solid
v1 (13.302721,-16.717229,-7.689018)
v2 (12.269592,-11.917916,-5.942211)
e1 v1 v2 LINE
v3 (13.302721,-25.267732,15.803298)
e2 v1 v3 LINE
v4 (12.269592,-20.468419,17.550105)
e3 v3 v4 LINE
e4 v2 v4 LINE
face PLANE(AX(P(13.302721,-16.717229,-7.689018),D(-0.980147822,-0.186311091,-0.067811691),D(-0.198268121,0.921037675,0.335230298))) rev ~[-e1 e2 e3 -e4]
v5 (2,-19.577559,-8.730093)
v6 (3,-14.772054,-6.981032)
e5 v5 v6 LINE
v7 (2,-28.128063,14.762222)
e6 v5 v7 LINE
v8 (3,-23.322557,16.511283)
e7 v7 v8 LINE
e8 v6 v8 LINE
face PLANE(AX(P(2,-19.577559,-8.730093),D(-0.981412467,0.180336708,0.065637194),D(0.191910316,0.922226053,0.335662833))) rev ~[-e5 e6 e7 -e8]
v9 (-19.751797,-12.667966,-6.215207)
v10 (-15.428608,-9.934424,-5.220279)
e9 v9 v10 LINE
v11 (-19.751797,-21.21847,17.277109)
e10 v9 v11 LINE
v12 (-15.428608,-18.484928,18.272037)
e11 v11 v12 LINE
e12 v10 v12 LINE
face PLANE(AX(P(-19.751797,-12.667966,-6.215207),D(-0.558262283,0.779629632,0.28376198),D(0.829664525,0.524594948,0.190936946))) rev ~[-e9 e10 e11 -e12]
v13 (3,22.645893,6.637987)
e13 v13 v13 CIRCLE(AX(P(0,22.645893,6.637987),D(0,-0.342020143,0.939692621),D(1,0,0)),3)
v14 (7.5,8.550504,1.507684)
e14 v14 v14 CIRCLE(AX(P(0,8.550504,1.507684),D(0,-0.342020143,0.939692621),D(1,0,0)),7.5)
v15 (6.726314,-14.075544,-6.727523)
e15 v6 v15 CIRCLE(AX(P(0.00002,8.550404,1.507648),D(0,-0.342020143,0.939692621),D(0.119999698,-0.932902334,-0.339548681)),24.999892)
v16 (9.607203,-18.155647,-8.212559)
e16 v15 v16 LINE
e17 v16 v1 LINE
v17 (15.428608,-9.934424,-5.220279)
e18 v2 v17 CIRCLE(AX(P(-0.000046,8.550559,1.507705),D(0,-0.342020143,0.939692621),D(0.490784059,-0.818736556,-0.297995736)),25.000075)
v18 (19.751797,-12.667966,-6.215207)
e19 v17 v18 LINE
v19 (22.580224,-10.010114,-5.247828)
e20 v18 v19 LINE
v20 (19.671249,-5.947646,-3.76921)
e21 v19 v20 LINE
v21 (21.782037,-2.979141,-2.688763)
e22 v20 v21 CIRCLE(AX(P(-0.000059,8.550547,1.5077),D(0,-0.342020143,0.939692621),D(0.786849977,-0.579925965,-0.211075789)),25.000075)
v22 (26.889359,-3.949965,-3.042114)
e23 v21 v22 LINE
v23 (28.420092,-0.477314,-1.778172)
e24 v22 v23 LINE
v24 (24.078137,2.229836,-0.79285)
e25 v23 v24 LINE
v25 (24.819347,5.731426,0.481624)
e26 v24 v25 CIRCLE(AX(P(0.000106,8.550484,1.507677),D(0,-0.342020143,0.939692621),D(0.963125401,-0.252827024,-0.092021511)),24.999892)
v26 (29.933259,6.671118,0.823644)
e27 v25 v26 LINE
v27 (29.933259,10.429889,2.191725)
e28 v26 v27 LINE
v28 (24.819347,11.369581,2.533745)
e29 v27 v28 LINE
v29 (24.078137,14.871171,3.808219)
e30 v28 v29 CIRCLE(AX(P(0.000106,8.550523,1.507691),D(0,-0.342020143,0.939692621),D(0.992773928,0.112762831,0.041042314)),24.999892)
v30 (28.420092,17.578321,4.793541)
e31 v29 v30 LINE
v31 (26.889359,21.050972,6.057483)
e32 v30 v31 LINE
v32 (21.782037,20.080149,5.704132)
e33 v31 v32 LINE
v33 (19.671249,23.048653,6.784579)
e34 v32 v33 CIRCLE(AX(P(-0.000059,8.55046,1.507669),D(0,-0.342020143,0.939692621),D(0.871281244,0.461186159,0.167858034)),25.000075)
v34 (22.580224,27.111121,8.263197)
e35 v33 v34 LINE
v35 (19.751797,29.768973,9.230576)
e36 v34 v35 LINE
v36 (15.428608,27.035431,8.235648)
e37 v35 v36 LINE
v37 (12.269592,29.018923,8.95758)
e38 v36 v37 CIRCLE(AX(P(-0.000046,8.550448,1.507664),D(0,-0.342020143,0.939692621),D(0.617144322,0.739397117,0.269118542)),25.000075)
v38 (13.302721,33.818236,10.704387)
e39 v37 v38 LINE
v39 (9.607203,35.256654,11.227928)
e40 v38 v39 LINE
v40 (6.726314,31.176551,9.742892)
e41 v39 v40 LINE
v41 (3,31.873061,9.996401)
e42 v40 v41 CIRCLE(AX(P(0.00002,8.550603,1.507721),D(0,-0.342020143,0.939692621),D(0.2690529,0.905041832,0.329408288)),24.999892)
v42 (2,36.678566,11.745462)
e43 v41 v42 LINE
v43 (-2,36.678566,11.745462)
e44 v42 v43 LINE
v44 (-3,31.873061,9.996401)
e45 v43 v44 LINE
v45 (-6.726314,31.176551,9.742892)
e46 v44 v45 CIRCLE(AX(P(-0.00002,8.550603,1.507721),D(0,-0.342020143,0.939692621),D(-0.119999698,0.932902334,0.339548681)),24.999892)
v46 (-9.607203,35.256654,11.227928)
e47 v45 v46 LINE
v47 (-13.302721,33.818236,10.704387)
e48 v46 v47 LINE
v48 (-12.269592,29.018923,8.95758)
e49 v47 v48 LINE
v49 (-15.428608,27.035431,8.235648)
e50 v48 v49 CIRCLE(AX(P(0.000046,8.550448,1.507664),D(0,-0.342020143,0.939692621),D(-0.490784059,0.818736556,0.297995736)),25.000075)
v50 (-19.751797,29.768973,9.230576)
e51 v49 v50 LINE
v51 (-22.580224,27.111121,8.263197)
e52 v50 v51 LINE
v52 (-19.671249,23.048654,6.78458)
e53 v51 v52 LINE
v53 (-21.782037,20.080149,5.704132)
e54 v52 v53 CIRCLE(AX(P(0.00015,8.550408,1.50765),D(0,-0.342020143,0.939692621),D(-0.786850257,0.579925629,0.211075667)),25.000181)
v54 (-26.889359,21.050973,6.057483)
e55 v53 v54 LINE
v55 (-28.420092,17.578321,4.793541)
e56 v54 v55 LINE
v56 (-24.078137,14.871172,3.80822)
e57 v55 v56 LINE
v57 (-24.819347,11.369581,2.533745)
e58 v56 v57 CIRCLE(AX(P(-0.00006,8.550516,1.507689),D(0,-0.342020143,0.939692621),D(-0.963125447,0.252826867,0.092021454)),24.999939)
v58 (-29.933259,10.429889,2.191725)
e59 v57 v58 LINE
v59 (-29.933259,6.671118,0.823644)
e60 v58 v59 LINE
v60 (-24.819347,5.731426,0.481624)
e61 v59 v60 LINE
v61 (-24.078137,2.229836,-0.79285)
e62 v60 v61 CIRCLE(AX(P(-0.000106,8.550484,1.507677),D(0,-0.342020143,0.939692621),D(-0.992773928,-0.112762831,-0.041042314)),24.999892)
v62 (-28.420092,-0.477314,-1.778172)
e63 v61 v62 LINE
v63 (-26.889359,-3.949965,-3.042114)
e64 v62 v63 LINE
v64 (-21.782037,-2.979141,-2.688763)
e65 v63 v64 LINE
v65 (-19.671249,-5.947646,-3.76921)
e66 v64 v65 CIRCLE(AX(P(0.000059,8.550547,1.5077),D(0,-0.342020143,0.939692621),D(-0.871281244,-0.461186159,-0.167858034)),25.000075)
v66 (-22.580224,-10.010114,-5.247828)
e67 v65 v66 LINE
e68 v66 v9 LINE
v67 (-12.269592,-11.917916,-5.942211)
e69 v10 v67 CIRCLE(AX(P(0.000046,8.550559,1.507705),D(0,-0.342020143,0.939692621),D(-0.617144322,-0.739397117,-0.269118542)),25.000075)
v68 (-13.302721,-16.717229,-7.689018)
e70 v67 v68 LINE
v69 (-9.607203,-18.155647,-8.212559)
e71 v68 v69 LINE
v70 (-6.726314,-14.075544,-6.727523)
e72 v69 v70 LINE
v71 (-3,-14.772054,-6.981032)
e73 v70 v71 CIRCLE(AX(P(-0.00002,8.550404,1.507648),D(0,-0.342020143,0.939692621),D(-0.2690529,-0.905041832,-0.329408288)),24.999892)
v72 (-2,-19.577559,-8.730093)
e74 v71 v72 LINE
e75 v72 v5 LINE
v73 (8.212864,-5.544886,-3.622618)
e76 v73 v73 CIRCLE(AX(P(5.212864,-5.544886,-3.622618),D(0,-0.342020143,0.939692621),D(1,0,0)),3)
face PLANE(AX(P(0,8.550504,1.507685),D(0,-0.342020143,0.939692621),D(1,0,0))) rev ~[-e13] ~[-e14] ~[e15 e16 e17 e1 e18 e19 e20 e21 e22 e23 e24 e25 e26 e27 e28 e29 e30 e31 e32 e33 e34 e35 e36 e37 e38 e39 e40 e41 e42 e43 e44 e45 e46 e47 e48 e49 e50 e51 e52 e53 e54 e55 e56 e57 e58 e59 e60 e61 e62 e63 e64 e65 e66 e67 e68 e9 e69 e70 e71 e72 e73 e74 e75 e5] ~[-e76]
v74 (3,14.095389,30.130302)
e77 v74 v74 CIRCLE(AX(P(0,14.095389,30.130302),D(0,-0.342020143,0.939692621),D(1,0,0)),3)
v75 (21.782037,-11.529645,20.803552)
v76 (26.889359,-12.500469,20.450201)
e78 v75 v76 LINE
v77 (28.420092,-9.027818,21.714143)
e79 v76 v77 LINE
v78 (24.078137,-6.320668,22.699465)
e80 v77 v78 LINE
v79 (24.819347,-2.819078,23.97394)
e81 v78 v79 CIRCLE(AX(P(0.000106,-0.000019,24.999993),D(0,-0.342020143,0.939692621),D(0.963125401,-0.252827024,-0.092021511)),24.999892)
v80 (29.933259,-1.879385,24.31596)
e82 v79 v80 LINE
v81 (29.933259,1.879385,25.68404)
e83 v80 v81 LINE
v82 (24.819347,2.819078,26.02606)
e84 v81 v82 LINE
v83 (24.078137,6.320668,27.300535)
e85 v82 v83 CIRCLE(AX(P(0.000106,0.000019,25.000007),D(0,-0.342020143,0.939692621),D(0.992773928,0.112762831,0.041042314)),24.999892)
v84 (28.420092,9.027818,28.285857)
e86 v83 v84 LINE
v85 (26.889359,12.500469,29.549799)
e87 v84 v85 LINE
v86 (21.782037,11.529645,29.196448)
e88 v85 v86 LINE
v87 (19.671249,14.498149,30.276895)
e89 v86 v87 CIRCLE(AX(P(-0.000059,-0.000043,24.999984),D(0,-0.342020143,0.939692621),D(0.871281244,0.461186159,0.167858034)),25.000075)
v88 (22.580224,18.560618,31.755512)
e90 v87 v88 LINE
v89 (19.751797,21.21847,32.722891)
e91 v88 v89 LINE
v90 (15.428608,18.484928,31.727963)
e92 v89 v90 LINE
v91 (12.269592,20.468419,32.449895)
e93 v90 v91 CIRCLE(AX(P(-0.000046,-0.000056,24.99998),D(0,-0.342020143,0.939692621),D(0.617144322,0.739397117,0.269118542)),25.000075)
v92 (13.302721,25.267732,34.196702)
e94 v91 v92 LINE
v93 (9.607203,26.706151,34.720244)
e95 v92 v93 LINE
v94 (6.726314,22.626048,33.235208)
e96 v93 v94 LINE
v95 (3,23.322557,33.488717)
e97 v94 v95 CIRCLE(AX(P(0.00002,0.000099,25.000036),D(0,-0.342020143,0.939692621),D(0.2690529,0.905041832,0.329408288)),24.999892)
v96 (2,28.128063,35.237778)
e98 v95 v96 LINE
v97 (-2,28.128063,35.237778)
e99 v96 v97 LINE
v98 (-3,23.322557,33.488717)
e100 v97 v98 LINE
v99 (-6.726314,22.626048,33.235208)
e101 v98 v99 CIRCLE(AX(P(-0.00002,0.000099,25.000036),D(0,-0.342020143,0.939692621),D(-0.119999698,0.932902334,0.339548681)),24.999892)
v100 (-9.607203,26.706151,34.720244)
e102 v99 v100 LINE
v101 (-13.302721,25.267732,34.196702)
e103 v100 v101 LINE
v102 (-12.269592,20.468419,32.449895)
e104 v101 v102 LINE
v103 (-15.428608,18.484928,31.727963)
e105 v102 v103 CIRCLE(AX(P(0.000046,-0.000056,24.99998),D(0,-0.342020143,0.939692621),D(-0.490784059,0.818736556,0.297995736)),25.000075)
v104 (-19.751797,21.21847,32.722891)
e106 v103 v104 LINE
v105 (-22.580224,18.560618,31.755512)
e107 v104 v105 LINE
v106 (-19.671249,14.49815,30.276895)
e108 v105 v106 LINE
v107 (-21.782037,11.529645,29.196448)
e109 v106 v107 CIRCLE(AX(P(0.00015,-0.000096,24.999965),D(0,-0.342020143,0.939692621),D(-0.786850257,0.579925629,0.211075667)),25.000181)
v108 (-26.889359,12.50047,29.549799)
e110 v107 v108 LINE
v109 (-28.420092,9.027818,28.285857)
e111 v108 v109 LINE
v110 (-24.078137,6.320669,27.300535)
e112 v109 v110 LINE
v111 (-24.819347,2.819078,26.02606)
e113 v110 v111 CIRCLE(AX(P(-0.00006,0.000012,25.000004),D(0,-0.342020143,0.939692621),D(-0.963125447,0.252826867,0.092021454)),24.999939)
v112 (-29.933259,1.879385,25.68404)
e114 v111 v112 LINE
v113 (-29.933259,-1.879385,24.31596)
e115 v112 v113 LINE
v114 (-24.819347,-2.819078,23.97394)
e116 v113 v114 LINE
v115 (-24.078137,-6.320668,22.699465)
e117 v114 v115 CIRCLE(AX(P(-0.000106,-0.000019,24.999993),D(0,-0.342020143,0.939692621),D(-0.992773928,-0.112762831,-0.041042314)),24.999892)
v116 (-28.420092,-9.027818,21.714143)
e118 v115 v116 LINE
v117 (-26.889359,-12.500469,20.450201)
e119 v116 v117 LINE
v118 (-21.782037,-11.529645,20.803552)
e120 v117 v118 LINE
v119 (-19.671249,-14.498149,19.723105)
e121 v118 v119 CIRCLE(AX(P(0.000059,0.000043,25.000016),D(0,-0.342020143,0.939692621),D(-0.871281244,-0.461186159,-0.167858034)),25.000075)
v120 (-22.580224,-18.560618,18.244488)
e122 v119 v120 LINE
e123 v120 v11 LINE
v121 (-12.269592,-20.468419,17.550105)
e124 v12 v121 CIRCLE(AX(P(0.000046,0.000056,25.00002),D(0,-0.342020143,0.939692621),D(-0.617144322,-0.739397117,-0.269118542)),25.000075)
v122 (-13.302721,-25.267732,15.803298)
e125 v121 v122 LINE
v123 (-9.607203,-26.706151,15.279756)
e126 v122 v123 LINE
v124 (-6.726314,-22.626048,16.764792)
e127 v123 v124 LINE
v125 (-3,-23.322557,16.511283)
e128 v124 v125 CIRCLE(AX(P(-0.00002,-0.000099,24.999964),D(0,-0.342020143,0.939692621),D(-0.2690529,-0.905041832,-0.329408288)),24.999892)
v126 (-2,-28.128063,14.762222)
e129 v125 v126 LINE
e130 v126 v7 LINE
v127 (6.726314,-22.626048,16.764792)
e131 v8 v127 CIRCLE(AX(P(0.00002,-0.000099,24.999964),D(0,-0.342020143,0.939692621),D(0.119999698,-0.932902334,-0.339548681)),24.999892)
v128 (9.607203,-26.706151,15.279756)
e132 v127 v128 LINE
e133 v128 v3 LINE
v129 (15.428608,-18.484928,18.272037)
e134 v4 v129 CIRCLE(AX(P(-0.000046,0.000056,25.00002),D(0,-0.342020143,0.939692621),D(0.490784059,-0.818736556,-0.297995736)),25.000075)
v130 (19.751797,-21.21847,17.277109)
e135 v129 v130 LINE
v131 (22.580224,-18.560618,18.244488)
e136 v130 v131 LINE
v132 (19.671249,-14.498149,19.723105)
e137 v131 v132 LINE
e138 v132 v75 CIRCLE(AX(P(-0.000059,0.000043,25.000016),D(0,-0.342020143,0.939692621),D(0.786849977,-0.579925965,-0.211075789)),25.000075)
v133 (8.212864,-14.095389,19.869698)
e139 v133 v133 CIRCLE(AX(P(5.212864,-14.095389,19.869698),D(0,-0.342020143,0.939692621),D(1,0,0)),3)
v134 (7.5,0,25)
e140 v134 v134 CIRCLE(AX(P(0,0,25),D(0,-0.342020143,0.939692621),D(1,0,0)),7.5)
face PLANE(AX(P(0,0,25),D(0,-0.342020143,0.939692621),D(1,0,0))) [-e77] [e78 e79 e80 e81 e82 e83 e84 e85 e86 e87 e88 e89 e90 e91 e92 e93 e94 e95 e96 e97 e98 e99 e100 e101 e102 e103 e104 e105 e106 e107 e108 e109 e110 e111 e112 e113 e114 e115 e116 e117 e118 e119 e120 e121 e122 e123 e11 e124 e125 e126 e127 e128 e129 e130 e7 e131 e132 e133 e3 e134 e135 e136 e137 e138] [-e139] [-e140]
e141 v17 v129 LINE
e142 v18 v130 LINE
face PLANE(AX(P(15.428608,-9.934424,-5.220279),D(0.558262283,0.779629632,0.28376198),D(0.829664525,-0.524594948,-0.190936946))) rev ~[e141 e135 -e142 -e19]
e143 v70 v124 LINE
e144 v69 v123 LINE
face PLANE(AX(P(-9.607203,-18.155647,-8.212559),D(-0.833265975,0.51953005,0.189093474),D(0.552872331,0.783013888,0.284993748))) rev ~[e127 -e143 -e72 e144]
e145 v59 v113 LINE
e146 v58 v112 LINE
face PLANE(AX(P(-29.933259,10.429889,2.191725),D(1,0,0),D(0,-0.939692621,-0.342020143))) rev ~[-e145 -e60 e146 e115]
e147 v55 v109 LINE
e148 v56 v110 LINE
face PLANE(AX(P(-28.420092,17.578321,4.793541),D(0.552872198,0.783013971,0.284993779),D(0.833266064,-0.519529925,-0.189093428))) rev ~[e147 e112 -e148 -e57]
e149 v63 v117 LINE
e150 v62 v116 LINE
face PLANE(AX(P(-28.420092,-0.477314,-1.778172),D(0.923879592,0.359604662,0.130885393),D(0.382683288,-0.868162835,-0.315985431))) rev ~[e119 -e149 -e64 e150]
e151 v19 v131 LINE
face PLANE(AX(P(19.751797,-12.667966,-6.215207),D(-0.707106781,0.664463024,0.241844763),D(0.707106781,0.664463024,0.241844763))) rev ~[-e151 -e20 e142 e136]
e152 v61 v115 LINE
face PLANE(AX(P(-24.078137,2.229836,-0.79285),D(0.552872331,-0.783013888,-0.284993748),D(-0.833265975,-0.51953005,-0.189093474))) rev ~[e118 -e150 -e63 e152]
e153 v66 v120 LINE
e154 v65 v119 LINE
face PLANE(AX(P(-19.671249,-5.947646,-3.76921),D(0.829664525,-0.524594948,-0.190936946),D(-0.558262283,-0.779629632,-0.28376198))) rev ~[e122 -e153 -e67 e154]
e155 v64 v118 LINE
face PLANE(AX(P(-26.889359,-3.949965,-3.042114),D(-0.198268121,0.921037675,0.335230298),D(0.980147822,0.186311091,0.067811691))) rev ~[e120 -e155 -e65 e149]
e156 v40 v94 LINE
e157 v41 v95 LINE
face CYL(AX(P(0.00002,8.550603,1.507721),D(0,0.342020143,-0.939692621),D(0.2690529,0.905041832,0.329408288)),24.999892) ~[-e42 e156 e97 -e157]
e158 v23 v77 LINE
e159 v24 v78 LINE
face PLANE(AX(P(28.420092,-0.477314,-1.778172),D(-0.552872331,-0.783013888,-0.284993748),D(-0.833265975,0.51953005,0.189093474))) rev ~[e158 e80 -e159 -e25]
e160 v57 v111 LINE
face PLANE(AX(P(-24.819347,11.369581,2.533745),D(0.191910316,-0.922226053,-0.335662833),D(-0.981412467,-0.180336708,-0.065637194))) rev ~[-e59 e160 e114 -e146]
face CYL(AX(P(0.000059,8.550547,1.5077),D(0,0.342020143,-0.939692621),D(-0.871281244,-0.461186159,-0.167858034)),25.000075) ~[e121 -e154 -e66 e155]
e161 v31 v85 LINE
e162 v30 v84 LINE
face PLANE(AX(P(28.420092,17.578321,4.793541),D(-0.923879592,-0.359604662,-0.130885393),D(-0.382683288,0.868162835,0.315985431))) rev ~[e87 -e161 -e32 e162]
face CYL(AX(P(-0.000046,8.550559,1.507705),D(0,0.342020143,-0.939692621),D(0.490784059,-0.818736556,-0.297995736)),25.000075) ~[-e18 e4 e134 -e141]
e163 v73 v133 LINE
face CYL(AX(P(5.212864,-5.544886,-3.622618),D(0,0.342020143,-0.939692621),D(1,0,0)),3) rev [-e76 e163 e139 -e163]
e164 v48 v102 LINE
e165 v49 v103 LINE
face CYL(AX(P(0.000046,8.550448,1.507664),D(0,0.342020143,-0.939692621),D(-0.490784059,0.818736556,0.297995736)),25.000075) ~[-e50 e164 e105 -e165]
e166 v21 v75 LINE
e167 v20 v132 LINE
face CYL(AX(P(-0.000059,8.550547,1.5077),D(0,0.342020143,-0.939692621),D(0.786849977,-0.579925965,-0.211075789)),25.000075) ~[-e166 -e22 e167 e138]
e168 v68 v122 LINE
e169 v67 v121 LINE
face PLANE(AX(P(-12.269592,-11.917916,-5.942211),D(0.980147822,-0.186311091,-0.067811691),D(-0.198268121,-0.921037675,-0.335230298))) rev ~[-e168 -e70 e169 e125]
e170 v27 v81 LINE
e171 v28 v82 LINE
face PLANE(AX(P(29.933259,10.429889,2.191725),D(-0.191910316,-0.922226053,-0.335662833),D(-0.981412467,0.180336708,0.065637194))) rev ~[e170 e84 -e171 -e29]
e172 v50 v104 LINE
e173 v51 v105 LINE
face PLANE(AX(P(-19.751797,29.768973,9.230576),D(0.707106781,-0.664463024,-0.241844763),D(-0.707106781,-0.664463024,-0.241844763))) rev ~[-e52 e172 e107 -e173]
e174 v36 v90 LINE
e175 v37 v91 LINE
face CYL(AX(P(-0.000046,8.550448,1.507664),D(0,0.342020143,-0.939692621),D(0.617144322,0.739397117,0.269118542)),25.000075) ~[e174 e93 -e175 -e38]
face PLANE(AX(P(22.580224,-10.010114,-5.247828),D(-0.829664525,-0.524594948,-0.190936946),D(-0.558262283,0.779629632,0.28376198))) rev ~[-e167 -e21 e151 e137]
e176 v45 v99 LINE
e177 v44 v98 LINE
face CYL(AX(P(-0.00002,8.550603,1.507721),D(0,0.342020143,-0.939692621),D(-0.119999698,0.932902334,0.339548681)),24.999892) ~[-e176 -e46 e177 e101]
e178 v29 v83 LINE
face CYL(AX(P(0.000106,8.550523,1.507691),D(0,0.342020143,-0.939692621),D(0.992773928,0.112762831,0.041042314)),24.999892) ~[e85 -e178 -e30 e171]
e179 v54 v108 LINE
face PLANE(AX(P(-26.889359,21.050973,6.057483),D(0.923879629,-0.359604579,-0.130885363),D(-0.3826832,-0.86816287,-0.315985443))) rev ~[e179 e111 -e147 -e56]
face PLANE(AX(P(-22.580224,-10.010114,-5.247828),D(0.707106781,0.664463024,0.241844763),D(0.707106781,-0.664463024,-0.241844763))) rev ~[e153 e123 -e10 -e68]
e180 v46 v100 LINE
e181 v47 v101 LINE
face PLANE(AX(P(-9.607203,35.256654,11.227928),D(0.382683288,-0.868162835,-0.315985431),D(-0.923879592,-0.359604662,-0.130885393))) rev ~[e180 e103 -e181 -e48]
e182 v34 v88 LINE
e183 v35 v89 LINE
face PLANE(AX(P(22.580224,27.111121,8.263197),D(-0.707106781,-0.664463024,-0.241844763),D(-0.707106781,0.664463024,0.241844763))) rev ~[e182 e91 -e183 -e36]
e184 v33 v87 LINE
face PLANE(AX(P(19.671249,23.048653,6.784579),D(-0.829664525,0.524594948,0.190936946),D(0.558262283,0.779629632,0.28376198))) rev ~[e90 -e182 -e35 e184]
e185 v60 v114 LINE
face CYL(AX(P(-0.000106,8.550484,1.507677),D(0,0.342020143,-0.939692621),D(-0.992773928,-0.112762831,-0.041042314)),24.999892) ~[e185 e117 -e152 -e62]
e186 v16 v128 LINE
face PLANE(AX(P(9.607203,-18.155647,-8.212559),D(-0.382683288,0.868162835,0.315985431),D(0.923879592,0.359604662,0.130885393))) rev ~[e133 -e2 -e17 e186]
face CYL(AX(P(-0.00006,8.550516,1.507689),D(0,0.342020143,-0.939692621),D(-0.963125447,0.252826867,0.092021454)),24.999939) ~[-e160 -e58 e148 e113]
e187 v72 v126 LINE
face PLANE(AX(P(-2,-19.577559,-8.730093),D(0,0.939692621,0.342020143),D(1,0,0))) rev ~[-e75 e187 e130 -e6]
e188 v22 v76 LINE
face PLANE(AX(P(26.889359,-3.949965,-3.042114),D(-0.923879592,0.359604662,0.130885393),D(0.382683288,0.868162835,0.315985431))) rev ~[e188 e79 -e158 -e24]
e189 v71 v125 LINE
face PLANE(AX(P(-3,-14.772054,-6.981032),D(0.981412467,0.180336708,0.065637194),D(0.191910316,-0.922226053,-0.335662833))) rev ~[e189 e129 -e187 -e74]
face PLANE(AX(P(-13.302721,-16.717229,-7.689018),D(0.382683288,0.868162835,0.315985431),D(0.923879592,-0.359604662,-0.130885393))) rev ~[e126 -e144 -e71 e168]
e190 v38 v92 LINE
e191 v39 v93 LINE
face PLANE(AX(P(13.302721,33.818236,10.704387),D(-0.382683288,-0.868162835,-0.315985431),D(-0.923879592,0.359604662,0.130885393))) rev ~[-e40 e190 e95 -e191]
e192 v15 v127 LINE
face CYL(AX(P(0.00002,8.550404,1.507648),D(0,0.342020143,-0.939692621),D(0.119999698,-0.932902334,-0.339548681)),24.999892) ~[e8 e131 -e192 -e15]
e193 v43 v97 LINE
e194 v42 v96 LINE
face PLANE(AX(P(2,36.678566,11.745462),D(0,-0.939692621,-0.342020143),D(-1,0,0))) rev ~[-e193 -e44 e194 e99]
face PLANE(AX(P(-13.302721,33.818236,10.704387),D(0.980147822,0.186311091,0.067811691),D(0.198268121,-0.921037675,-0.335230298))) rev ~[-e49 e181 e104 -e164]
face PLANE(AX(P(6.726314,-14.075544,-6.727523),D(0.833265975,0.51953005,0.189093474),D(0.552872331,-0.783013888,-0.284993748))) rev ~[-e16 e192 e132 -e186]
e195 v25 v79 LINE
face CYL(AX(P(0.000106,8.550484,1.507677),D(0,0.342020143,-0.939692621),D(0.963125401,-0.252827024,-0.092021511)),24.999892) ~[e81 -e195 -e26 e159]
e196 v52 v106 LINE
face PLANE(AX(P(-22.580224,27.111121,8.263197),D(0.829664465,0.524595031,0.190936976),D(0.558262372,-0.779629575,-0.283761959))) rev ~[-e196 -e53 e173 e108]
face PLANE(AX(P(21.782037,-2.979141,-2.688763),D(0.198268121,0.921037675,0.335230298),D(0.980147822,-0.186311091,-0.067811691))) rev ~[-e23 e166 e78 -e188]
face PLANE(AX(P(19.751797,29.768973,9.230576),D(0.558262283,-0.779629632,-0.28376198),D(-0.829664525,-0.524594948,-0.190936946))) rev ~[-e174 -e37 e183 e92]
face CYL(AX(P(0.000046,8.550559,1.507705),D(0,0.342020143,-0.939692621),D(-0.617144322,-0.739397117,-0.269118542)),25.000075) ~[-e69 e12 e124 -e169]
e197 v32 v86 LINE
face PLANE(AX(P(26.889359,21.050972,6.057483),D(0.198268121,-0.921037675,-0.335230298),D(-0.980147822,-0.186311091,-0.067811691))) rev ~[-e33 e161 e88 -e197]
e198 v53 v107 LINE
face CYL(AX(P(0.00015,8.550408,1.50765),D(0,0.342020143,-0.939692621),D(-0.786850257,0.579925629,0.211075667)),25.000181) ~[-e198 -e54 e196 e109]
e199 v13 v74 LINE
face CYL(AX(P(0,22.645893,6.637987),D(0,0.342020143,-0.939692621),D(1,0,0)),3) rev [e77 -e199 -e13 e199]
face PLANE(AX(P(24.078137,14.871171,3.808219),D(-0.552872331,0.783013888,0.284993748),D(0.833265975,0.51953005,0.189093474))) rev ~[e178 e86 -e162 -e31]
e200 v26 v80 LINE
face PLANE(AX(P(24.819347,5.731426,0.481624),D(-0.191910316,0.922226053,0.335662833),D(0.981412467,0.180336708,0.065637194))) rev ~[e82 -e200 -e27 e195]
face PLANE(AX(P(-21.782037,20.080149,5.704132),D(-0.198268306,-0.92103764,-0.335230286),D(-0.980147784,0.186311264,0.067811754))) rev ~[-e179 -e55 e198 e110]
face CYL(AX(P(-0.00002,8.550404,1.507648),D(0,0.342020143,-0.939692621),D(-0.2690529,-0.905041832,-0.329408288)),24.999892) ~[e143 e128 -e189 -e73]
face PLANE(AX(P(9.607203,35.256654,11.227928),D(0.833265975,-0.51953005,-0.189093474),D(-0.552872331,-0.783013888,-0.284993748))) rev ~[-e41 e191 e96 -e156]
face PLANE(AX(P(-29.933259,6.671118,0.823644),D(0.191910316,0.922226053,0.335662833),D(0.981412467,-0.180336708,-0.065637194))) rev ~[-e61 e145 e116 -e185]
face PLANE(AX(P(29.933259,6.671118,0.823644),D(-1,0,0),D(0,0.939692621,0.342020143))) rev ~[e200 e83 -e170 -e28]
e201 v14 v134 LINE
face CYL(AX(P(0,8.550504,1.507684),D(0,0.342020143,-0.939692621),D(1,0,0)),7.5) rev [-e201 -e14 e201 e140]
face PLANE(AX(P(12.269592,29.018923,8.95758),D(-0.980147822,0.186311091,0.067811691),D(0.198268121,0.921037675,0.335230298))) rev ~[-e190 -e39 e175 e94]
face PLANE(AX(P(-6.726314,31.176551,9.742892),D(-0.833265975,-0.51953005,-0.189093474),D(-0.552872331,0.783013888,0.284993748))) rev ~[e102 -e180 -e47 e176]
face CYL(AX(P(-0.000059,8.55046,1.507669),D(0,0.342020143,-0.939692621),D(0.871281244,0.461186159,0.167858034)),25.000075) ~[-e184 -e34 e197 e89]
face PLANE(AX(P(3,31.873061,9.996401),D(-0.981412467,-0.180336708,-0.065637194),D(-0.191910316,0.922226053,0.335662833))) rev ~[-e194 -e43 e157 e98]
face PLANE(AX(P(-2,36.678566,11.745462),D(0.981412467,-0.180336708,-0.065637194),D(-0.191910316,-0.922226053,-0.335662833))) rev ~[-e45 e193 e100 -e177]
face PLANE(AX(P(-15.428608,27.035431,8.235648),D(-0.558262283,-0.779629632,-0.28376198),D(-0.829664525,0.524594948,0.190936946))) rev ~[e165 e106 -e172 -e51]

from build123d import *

# Parameters (mm, degrees)
F0_R     = 3
F0_R_2   = 7.5
F1_DEPTH = 25
F3_ANGLE = 20


with BuildPart() as f1:
    # F0 (on Top) → F1 (new body)
    with BuildSketch(Plane.XY):
        with BuildLine():
            Line((3, 24.819347), (2, 29.933259))
            Line((2, 29.933259), (-2, 29.933259))
            Line((-2, 29.933259), (-3, 24.819347))
            ThreePointArc((-3, 24.819347), (-4.877258, 24.519632), (-6.726314, 24.078137))
            Line((-6.726314, 24.078137), (-9.607203, 28.420092))
            Line((-9.607203, 28.420092), (-13.302721, 26.889359))
            Line((-13.302721, 26.889359), (-12.269592, 21.782037))
            ThreePointArc((-12.269592, 21.782037), (-13.889256, 20.78674), (-15.428608, 19.671249))
            Line((-15.428608, 19.671249), (-19.751797, 22.580224))
            Line((-19.751797, 22.580224), (-22.580224, 19.751797))
            Line((-22.580224, 19.751797), (-19.671249, 15.428609))
            ThreePointArc((-19.671249, 15.428609), (-20.78674, 13.889256), (-21.782037, 12.269592))
            Line((-21.782037, 12.269592), (-26.889359, 13.302722))
            Line((-26.889359, 13.302722), (-28.420092, 9.607203))
            Line((-28.420092, 9.607203), (-24.078137, 6.726315))
            ThreePointArc((-24.078137, 6.726315), (-24.519632, 4.877258), (-24.819347, 3))
            Line((-24.819347, 3), (-29.933259, 2))
            Line((-29.933259, 2), (-29.933259, -2))
            Line((-29.933259, -2), (-24.819347, -3))
            ThreePointArc((-24.819347, -3), (-24.519632, -4.877258), (-24.078137, -6.726314))
            Line((-24.078137, -6.726314), (-28.420092, -9.607203))
            Line((-28.420092, -9.607203), (-26.889359, -13.302721))
            Line((-26.889359, -13.302721), (-21.782037, -12.269592))
            ThreePointArc((-21.782037, -12.269592), (-20.78674, -13.889256), (-19.671249, -15.428608))
            Line((-19.671249, -15.428608), (-22.580224, -19.751797))
            Line((-22.580224, -19.751797), (-19.751797, -22.580224))
            Line((-19.751797, -22.580224), (-15.428608, -19.671249))
            ThreePointArc((-15.428608, -19.671249), (-13.889256, -20.78674), (-12.269592, -21.782037))
            Line((-12.269592, -21.782037), (-13.302721, -26.889359))
            Line((-13.302721, -26.889359), (-9.607203, -28.420092))
            Line((-9.607203, -28.420092), (-6.726314, -24.078137))
            ThreePointArc((-6.726314, -24.078137), (-4.877258, -24.519632), (-3, -24.819347))
            Line((-3, -24.819347), (-2, -29.933259))
            Line((-2, -29.933259), (2, -29.933259))
            Line((2, -29.933259), (3, -24.819347))
            ThreePointArc((3, -24.819347), (4.877258, -24.519632), (6.726314, -24.078137))
            Line((6.726314, -24.078137), (9.607203, -28.420092))
            Line((9.607203, -28.420092), (13.302721, -26.889359))
            Line((13.302721, -26.889359), (12.269592, -21.782037))
            ThreePointArc((12.269592, -21.782037), (13.889256, -20.78674), (15.428608, -19.671249))
            Line((15.428608, -19.671249), (19.751797, -22.580224))
            Line((19.751797, -22.580224), (22.580224, -19.751797))
            Line((22.580224, -19.751797), (19.671249, -15.428608))
            ThreePointArc((19.671249, -15.428608), (20.78674, -13.889256), (21.782037, -12.269592))
            Line((21.782037, -12.269592), (26.889359, -13.302721))
            Line((26.889359, -13.302721), (28.420092, -9.607203))
            Line((28.420092, -9.607203), (24.078137, -6.726314))
            ThreePointArc((24.078137, -6.726314), (24.519632, -4.877258), (24.819347, -3))
            Line((24.819347, -3), (29.933259, -2))
            Line((29.933259, -2), (29.933259, 2))
            Line((29.933259, 2), (24.819347, 3))
            ThreePointArc((24.819347, 3), (24.519632, 4.877258), (24.078137, 6.726314))
            Line((24.078137, 6.726314), (28.420092, 9.607203))
            Line((28.420092, 9.607203), (26.889359, 13.302721))
            Line((26.889359, 13.302721), (21.782037, 12.269592))
            ThreePointArc((21.782037, 12.269592), (20.78674, 13.889256), (19.671249, 15.428608))
            Line((19.671249, 15.428608), (22.580224, 19.751797))
            Line((22.580224, 19.751797), (19.751797, 22.580224))
            Line((19.751797, 22.580224), (15.428608, 19.671249))
            ThreePointArc((15.428608, 19.671249), (13.889256, 20.78674), (12.269592, 21.782037))
            Line((12.269592, 21.782037), (13.302721, 26.889359))
            Line((13.302721, 26.889359), (9.607203, 28.420092))
            Line((9.607203, 28.420092), (6.726314, 24.078137))
            ThreePointArc((6.726314, 24.078137), (4.877258, 24.519632), (3, 24.819347))
        make_face()
        with Locations((5.212864, -15)):
            Circle(F0_R, mode=Mode.SUBTRACT)
        Circle(F0_R_2, mode=Mode.SUBTRACT)
        with Locations((0, 15)):
            Circle(F0_R, mode=Mode.SUBTRACT)
    extrude(amount=F1_DEPTH)


with BuildPart() as f1_1:
    # F3: moved
    add(f1.part.rotate(Axis((0.748886, 0, 25), (1, 0, 0)), F3_ANGLE))


solid = f1_1.part
